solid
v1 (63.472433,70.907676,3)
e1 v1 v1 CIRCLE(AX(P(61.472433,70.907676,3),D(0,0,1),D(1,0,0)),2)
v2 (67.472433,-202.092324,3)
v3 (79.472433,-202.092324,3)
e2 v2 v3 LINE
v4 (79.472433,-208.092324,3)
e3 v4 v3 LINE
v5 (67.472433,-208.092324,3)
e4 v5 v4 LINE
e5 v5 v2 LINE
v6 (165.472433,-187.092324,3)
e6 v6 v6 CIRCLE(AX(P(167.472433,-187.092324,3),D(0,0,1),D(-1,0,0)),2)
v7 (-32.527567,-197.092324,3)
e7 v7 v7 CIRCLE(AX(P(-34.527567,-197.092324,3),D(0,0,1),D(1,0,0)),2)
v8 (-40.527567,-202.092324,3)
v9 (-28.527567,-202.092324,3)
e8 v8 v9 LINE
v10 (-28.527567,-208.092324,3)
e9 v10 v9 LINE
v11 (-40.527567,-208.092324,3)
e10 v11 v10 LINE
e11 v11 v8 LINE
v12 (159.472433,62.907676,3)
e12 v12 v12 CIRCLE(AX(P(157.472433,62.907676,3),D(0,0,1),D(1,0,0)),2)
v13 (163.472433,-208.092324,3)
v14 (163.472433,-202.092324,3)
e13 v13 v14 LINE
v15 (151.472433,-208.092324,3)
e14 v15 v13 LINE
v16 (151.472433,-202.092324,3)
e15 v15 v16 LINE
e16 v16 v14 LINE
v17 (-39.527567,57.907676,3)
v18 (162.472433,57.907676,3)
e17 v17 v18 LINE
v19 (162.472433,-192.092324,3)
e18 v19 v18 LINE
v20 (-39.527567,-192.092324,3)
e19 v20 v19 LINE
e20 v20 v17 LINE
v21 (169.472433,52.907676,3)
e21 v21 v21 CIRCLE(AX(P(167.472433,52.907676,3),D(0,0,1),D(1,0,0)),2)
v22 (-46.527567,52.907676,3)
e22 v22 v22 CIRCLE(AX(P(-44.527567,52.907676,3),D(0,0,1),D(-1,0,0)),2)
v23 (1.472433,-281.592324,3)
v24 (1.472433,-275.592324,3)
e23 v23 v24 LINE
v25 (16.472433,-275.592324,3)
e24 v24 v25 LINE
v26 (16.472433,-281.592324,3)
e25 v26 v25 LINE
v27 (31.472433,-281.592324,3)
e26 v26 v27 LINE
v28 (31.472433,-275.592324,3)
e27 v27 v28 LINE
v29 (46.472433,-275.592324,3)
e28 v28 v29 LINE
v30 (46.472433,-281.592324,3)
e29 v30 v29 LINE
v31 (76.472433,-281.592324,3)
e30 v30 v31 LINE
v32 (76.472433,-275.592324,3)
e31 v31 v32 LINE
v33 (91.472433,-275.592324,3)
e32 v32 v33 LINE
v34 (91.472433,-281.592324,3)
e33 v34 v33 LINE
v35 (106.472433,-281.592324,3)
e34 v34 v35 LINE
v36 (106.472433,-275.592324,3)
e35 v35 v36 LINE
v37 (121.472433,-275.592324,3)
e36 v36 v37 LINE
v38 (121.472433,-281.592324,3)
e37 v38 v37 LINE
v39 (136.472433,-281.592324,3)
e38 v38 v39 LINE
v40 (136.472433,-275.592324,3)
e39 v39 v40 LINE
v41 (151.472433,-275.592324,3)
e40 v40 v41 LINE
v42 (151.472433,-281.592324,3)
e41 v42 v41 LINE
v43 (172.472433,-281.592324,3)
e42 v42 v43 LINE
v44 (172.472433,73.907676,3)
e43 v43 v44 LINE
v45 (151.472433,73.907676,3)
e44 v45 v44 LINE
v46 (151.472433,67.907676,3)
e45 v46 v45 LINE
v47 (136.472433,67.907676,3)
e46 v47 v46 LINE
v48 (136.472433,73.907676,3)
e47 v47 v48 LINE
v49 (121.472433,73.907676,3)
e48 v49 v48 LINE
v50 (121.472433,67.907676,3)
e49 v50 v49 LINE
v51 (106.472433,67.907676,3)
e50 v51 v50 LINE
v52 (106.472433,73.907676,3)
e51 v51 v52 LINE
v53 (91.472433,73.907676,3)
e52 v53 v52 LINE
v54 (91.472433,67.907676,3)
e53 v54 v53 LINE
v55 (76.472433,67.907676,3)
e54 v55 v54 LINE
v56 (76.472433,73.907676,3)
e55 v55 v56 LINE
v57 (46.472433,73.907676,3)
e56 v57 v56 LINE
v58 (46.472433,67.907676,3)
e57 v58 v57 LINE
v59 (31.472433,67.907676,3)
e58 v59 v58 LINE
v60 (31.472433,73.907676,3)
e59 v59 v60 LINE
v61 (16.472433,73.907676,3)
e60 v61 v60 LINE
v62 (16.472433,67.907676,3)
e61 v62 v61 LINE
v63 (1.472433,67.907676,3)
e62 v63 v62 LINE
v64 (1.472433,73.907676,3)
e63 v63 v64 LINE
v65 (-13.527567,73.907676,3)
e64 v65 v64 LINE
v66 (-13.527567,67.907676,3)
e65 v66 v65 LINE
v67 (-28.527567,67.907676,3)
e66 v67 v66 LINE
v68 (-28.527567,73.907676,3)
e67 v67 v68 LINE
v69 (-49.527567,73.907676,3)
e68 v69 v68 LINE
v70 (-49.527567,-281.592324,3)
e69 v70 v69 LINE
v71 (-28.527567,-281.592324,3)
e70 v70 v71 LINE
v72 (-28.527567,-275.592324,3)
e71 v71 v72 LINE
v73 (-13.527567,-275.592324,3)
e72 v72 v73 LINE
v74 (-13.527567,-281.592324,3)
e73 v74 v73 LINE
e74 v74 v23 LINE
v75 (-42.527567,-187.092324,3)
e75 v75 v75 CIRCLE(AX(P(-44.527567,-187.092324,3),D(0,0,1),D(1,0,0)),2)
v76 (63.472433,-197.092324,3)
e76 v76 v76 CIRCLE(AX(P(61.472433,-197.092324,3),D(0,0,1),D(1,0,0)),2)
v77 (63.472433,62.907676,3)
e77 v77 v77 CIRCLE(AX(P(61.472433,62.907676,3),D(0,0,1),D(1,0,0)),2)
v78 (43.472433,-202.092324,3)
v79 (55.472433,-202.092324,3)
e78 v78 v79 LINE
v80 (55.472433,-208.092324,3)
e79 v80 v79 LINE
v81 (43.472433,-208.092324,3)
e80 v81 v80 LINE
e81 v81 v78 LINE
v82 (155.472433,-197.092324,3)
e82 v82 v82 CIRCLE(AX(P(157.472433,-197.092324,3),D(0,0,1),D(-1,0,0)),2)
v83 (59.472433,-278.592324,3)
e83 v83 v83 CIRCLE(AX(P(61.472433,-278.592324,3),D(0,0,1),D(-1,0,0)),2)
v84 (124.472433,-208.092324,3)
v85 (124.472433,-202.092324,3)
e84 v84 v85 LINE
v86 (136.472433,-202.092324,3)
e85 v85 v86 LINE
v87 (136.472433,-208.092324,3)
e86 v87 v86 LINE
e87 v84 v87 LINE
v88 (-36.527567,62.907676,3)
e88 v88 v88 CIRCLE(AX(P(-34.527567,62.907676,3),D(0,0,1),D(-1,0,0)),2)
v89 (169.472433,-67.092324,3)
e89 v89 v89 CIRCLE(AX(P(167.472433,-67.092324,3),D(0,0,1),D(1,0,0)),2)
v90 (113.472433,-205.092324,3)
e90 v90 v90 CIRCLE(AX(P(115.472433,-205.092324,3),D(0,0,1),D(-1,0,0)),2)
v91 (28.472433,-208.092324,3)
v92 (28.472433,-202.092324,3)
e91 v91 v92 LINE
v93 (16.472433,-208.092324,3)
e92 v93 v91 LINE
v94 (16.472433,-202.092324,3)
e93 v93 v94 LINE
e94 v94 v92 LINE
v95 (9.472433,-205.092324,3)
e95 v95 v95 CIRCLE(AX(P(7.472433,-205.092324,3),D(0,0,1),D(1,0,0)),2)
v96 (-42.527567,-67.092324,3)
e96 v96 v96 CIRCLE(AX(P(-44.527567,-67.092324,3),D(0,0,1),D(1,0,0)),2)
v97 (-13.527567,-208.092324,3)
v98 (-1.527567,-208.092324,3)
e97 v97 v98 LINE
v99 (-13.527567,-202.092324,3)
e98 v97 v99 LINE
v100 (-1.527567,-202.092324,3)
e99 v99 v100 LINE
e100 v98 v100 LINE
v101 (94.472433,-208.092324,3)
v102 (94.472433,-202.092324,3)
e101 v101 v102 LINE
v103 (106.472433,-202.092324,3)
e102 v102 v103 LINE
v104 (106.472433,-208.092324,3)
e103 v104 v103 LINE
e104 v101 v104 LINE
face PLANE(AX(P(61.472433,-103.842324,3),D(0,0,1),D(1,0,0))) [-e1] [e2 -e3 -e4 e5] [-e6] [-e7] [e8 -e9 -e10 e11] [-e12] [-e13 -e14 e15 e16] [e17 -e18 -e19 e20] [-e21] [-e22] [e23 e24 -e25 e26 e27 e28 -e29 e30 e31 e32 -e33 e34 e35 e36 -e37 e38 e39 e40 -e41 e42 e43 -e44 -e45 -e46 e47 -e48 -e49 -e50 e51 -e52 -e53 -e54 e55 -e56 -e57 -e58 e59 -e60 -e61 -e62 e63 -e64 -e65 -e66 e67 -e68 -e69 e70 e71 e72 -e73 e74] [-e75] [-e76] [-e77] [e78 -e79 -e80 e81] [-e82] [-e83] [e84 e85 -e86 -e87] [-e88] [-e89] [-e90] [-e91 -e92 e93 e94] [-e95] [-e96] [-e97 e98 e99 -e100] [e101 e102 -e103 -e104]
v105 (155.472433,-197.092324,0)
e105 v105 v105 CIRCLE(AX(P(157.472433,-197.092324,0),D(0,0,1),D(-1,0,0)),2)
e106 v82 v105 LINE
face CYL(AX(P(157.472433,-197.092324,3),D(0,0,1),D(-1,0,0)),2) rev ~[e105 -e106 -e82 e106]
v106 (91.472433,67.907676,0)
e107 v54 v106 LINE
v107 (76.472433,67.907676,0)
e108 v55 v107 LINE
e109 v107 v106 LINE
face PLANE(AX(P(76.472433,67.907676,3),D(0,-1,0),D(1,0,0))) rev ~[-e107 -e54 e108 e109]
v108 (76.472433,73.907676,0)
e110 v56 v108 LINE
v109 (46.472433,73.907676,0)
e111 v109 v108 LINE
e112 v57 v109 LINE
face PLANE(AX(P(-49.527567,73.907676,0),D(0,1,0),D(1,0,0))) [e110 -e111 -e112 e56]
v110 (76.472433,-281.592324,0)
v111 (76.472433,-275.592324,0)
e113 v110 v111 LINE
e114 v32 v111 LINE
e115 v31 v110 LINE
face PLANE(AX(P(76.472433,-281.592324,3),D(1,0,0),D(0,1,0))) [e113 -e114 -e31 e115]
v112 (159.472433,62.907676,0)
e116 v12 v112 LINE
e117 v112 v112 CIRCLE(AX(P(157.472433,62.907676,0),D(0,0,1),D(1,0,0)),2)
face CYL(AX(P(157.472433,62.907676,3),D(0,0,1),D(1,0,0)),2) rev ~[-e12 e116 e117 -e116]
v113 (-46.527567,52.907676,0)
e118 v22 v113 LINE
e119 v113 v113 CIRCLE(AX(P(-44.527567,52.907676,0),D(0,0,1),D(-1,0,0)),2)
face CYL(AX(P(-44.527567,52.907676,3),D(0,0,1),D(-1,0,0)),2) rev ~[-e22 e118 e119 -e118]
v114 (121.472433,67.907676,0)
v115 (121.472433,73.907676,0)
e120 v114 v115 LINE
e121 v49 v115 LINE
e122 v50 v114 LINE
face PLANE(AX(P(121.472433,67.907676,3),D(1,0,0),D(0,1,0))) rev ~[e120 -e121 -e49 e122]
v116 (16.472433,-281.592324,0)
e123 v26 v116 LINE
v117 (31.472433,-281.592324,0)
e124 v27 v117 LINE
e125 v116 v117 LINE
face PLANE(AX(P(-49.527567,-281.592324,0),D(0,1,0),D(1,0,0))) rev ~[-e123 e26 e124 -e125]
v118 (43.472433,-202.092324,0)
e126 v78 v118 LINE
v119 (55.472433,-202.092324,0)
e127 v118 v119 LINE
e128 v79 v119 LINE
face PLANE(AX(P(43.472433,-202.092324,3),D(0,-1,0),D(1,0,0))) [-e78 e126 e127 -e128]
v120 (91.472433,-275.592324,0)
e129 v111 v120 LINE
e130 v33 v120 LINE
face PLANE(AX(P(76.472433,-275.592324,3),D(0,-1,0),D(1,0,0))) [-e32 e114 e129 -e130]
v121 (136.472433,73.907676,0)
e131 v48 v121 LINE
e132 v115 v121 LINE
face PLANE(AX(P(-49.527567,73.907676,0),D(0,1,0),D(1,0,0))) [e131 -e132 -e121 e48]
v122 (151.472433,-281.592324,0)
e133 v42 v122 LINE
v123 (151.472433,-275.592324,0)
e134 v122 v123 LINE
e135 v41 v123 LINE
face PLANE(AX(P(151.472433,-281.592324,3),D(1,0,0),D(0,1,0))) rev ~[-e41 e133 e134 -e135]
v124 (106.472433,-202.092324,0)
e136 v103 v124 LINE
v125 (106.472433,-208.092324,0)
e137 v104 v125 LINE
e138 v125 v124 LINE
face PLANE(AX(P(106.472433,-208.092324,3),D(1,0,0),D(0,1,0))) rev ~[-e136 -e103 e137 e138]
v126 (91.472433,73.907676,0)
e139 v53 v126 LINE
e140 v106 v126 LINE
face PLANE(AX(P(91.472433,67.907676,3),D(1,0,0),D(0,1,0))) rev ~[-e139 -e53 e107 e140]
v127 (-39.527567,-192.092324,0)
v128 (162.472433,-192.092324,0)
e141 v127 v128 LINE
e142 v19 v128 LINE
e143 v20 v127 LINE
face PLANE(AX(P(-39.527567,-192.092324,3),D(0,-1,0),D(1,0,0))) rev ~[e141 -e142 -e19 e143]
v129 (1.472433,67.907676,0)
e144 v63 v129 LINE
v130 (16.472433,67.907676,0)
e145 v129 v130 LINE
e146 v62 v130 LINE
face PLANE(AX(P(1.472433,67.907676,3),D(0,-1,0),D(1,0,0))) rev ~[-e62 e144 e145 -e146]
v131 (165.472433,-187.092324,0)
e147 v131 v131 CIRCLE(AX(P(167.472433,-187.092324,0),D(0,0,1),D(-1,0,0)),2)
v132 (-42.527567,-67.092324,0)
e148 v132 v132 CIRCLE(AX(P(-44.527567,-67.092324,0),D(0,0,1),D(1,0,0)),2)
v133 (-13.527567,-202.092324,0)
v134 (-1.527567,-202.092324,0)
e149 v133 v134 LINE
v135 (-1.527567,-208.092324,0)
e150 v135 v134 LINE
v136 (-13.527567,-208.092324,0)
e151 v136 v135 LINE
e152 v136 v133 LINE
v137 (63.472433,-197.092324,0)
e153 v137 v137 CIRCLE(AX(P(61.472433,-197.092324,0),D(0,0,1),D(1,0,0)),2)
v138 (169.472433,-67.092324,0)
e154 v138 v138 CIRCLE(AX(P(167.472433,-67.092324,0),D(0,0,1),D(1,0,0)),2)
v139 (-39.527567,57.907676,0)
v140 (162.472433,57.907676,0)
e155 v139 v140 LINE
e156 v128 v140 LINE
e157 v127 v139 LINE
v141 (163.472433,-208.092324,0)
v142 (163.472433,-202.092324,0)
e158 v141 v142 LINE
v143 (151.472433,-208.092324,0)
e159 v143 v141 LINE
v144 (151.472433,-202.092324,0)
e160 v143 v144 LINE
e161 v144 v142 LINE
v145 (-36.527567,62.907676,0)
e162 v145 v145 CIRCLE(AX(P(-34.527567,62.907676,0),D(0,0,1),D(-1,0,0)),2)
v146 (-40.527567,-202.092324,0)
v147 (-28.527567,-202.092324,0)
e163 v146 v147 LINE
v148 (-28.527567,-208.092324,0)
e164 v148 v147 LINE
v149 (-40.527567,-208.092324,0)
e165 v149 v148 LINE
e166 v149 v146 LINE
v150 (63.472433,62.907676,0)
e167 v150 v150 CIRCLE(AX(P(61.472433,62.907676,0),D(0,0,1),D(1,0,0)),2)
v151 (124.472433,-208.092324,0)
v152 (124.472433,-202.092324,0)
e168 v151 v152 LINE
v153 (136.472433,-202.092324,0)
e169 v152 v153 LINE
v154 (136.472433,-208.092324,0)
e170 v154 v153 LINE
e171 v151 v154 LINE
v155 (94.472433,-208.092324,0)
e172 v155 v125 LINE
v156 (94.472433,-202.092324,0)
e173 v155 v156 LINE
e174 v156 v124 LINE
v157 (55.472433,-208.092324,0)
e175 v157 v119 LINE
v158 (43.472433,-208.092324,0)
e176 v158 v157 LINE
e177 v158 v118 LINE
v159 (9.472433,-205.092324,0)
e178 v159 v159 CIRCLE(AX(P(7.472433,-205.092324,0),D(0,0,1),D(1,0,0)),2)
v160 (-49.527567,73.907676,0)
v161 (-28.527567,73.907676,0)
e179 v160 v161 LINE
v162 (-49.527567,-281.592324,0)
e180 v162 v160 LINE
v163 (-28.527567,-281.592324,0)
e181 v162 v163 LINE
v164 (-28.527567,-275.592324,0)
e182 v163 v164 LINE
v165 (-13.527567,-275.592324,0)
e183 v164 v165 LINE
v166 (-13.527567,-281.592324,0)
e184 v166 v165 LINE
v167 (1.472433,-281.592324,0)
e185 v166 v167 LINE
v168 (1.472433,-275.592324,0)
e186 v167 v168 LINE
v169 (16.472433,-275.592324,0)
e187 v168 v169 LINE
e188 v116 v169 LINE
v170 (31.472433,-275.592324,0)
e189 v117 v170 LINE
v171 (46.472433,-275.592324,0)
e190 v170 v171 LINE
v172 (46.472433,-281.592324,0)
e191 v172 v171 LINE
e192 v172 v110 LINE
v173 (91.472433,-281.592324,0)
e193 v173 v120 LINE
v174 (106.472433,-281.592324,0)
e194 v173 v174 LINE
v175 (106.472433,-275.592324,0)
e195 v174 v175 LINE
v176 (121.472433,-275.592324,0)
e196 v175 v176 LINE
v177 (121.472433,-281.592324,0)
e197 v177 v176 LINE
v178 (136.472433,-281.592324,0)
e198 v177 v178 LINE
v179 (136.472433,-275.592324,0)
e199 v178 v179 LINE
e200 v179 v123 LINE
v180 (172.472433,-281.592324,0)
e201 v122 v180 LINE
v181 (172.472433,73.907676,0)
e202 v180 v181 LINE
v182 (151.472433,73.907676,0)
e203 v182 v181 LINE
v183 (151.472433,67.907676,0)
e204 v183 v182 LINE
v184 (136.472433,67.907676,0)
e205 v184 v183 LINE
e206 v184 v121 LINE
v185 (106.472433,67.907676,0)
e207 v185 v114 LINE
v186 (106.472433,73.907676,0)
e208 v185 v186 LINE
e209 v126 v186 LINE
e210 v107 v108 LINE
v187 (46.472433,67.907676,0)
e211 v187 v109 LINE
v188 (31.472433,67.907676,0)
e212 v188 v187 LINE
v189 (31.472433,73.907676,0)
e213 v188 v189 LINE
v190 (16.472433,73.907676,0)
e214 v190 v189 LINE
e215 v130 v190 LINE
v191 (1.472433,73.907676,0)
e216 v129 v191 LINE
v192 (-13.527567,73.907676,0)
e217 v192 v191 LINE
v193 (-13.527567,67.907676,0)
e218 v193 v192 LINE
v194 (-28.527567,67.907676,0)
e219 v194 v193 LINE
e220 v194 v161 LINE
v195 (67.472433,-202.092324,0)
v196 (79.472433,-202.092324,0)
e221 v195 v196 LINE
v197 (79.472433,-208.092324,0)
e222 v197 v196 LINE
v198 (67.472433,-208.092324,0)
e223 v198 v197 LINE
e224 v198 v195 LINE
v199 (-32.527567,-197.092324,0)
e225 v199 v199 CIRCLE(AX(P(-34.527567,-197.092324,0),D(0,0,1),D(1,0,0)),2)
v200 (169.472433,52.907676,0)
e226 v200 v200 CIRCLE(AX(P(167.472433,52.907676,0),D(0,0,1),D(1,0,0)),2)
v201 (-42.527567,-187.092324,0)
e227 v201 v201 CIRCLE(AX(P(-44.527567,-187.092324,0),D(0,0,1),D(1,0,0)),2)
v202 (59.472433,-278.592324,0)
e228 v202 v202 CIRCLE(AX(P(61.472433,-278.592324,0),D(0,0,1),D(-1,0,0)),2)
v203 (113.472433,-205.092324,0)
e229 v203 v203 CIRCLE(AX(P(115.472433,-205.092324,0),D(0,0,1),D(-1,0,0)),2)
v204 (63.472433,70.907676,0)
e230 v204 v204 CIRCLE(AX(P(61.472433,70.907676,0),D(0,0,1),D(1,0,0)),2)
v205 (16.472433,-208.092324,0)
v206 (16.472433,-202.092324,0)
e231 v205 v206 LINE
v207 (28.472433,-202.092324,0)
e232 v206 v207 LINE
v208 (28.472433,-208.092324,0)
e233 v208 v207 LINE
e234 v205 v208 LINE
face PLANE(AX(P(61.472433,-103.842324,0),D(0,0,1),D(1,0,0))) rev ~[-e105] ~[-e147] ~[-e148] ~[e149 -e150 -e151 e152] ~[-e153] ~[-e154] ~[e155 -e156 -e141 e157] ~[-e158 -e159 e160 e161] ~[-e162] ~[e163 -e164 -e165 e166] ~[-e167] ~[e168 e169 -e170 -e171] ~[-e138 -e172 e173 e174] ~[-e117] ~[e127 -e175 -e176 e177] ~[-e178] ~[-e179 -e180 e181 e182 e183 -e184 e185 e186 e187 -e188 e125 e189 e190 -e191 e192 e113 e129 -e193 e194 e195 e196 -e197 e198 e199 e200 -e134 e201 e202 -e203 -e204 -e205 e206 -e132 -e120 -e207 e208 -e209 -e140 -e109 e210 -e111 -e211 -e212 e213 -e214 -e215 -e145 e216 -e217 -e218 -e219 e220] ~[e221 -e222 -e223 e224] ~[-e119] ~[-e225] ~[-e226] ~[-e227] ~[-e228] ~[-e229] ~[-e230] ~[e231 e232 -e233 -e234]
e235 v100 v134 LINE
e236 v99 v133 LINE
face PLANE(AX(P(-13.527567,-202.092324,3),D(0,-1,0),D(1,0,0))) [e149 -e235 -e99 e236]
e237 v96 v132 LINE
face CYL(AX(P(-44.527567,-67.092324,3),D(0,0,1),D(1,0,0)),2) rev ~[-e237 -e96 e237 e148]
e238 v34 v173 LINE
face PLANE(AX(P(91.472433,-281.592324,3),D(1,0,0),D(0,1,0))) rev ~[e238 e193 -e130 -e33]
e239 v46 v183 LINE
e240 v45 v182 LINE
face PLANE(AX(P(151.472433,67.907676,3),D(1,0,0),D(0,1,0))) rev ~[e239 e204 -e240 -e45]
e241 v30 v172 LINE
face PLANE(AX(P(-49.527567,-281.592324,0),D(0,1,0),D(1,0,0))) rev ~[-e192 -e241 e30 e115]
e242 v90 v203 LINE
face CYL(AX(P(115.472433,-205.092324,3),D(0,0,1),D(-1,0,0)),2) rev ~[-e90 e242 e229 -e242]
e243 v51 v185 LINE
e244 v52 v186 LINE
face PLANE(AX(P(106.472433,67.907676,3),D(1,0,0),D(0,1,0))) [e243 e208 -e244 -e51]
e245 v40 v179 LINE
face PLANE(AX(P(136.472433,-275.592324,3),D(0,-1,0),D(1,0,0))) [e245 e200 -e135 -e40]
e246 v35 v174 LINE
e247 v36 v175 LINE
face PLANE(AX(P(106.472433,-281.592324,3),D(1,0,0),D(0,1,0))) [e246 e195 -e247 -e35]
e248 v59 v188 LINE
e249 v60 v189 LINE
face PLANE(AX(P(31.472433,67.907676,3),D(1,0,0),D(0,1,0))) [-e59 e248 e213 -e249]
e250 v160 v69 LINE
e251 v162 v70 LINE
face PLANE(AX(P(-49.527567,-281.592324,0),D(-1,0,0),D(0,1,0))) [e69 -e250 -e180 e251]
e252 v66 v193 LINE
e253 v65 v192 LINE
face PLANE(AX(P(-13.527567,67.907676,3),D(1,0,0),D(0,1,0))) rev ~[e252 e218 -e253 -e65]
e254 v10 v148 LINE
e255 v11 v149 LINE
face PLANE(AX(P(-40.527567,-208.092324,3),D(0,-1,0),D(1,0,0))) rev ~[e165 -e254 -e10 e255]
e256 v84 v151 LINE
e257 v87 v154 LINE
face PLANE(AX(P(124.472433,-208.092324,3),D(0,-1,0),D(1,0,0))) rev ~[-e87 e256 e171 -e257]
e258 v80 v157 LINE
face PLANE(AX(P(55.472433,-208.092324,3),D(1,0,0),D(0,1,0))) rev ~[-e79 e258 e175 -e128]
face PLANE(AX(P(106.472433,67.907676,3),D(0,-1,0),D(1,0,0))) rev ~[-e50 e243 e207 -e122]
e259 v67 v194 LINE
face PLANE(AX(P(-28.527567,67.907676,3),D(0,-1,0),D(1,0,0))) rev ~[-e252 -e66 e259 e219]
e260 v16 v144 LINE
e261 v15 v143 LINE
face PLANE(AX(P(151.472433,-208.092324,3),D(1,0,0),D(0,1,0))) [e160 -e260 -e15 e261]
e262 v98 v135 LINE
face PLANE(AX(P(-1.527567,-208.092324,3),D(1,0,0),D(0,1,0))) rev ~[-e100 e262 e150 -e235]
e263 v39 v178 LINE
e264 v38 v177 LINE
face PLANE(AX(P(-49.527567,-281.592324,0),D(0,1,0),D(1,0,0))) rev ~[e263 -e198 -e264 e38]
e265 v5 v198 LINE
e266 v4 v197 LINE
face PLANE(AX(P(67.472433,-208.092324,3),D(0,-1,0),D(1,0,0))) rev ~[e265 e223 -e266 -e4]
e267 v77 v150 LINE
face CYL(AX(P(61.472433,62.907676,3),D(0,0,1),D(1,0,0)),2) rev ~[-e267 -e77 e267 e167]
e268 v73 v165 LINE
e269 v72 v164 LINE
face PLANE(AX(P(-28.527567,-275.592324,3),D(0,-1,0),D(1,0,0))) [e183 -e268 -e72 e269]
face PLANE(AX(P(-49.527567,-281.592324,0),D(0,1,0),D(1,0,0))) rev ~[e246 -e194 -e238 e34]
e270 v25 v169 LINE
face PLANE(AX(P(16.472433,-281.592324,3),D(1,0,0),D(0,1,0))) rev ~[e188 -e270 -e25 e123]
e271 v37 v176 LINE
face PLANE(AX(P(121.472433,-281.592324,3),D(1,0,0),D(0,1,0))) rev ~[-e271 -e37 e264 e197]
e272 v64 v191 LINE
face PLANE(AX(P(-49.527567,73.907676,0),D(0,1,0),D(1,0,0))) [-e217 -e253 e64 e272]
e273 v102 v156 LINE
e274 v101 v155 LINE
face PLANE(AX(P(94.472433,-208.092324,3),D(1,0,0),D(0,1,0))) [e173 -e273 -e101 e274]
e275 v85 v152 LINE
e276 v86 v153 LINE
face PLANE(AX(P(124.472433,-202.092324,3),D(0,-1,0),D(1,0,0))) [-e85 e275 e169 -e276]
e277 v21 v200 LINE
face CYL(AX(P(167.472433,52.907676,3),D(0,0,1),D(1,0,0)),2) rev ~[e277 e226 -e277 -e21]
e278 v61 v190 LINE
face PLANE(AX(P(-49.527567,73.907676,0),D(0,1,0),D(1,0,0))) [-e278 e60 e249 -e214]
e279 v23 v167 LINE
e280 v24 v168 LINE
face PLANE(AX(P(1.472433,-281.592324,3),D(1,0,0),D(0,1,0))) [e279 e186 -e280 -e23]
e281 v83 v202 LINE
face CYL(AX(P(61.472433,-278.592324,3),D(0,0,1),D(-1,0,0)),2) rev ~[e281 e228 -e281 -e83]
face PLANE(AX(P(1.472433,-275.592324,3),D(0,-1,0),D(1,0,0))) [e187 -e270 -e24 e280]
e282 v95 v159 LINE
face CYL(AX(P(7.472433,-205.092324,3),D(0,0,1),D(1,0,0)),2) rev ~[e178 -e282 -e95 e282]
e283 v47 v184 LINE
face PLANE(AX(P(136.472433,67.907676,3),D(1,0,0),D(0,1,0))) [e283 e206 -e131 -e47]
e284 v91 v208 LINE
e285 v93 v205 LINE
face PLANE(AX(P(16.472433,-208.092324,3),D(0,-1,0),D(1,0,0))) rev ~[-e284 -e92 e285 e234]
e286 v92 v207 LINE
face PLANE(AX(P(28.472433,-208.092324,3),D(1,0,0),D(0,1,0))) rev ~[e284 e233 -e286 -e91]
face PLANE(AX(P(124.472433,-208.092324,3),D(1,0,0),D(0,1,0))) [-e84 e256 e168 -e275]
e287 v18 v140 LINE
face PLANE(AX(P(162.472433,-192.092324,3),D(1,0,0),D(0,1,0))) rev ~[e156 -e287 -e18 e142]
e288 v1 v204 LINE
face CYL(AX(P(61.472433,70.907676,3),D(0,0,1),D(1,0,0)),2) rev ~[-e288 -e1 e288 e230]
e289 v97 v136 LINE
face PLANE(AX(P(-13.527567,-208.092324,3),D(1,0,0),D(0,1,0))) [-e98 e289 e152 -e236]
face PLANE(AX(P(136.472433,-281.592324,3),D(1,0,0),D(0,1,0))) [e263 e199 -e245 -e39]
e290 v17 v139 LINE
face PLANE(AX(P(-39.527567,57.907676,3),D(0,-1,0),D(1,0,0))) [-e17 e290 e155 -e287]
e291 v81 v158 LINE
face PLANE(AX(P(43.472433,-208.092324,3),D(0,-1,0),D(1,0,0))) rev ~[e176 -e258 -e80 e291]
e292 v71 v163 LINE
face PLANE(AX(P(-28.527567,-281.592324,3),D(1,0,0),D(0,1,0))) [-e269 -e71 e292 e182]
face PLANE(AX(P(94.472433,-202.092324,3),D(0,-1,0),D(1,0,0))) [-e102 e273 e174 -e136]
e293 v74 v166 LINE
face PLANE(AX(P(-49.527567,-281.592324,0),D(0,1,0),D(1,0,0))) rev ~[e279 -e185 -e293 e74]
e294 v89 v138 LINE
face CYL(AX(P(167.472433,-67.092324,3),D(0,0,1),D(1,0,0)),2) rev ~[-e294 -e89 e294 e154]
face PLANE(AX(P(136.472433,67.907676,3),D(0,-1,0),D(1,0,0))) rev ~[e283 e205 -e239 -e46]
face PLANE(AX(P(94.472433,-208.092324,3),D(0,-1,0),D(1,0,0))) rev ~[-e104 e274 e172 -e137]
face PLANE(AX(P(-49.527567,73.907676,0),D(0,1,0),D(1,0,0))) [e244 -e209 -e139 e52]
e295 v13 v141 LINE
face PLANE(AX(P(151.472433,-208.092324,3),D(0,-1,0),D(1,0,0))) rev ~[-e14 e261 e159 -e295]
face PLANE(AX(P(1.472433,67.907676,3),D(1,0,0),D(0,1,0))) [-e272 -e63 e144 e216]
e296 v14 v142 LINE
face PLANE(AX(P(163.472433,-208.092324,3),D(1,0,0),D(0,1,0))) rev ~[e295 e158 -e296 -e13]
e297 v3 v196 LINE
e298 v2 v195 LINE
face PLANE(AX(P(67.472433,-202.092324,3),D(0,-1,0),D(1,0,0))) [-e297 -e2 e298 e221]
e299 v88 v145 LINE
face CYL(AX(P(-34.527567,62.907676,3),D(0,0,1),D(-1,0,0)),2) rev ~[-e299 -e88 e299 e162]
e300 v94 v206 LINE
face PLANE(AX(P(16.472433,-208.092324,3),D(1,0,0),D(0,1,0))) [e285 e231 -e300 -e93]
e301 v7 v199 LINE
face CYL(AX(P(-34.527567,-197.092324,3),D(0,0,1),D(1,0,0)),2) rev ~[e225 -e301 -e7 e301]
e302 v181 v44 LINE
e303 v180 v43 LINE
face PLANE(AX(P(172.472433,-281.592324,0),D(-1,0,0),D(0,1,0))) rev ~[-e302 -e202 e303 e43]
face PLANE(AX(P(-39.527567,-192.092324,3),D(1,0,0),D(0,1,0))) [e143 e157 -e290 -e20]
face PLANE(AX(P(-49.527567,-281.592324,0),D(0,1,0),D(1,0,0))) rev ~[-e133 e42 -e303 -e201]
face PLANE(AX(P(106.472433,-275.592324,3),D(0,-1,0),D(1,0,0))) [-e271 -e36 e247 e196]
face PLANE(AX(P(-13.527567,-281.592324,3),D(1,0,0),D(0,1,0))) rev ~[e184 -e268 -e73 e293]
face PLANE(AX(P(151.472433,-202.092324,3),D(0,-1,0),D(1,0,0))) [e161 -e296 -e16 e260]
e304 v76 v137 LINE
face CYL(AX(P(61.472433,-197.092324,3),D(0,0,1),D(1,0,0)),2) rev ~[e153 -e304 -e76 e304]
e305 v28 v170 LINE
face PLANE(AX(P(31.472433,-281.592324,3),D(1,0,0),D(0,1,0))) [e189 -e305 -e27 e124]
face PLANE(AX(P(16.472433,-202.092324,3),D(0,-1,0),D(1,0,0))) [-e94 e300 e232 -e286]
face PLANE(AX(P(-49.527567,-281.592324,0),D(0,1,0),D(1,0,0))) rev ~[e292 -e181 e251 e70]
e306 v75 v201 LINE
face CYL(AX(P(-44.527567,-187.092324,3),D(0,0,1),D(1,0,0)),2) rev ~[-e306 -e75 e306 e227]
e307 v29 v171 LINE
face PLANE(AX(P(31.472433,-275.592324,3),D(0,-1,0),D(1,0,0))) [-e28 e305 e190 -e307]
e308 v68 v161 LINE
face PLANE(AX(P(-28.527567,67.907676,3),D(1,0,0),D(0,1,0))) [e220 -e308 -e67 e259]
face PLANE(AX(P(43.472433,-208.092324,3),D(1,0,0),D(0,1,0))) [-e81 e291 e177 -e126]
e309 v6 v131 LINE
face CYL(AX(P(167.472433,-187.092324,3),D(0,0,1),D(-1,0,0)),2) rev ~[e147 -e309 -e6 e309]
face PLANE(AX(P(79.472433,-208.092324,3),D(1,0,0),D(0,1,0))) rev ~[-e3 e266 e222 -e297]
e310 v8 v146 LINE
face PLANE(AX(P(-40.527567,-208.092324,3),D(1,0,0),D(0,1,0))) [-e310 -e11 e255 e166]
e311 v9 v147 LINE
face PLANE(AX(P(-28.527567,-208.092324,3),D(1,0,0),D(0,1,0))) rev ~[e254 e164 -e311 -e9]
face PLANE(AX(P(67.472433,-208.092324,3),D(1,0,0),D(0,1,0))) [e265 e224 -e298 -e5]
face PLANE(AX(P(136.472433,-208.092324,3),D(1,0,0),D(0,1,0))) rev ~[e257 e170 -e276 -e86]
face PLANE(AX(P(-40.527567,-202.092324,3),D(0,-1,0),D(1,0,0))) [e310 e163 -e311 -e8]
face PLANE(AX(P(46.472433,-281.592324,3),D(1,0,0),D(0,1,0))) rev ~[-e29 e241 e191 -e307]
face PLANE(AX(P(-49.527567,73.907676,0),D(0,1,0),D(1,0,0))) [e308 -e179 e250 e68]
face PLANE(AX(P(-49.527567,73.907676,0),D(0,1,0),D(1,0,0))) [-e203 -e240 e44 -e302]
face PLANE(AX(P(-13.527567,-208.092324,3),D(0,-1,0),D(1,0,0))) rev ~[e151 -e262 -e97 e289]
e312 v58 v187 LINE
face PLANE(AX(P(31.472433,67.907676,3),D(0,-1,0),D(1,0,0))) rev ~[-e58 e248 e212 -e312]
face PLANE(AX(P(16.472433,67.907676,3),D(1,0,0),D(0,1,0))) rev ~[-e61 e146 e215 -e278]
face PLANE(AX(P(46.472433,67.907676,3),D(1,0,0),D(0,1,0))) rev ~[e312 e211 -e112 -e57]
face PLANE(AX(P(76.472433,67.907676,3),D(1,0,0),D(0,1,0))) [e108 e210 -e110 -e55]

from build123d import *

# Parameters (mm, degrees)
ESQUISSE1_W             = 222
ESQUISSE1_H             = 355.5
BOSS_EXTRU_1_DEPTH      = 3
ESQUISSE2_R             = 2
ESQUISSE2_W             = 15
ESQUISSE2_H             = 6
ENL_V_MAT_EXTRU_1_DEPTH = 3
ESQUISSE3_R             = 2
ESQUISSE3_W             = 12
ESQUISSE3_H             = 6
ENL_V_MAT_EXTRU_2_DEPTH = 3
ESQUISSE4_R             = 2
ESQUISSE4_W             = 202
ESQUISSE4_H             = 250
ENL_V_MAT_EXTRU_3_DEPTH = 3


with BuildPart() as part:
    # Esquisse1 → Boss.-Extru.1 (new body)
    with BuildSketch(Plane.XY):
        with Locations((61.472433281, -103.842323651)):
            Rectangle(ESQUISSE1_W, ESQUISSE1_H)
    extrude(amount=BOSS_EXTRU_1_DEPTH)

    # Esquisse2 → Enlèv. mat.-Extru.1 (cut)
    with BuildSketch(Plane.XY.offset(3)):
        with Locations((61.472433281, 70.907676349)):
            Circle(ESQUISSE2_R)
        with Locations(Location((61.472433281, -278.592323651, 0), (0, 0, 180))):
            Circle(ESQUISSE2_R)
        with Locations((8.972433281, 70.907676349)):
            Rectangle(ESQUISSE2_W, ESQUISSE2_H)
        with Locations((83.972433281, 70.907676349)):
            Rectangle(ESQUISSE2_W, ESQUISSE2_H)
        with Locations((143.972433281, 70.907676349)):
            Rectangle(ESQUISSE2_W, ESQUISSE2_H)
        with Locations((113.972433281, 70.907676349)):
            Rectangle(ESQUISSE2_W, ESQUISSE2_H)
        with Locations((-21.027566719, 70.907676349)):
            Rectangle(ESQUISSE2_W, ESQUISSE2_H)
        with Locations((38.972433281, 70.907676349)):
            Rectangle(ESQUISSE2_W, ESQUISSE2_H)
        with Locations((38.972433281, -278.592323651)):
            Rectangle(ESQUISSE2_W, ESQUISSE2_H)
        with Locations((-21.027566719, -278.592323651)):
            Rectangle(ESQUISSE2_W, ESQUISSE2_H)
        with Locations((8.972433281, -278.592323651)):
            Rectangle(ESQUISSE2_W, ESQUISSE2_H)
        with Locations((113.972433281, -278.592323651)):
            Rectangle(ESQUISSE2_W, ESQUISSE2_H)
        with Locations((143.972433281, -278.592323651)):
            Rectangle(ESQUISSE2_W, ESQUISSE2_H)
        with Locations((83.972433281, -278.592323651)):
            Rectangle(ESQUISSE2_W, ESQUISSE2_H)
    extrude(amount=-ENL_V_MAT_EXTRU_1_DEPTH, mode=Mode.SUBTRACT)

    # Esquisse3 → Enlèv. mat.-Extru.2 (cut)
    with BuildSketch(Plane.XY.offset(3)):
        with Locations((7.472433281, -205.092323651)):
            Circle(ESQUISSE3_R)
        with Locations(Location((115.472433281, -205.092323651, 0), (0, 0, 180))):
            Circle(ESQUISSE3_R)
        with Locations((49.472433281, -205.092323651)):
            Rectangle(ESQUISSE3_W, ESQUISSE3_H)
        with Locations((22.472433281, -205.092323651)):
            Rectangle(ESQUISSE3_W, ESQUISSE3_H)
        with Locations((-7.527566719, -205.092323651)):
            Rectangle(ESQUISSE3_W, ESQUISSE3_H)
        with Locations((-34.527566719, -205.092323651)):
            Rectangle(ESQUISSE3_W, ESQUISSE3_H)
        with Locations((157.472433281, -205.092323651)):
            Rectangle(ESQUISSE3_W, ESQUISSE3_H)
        with Locations((130.472433281, -205.092323651)):
            Rectangle(ESQUISSE3_W, ESQUISSE3_H)
        with Locations((100.472433281, -205.092323651)):
            Rectangle(ESQUISSE3_W, ESQUISSE3_H)
        with Locations((73.472433281, -205.092323651)):
            Rectangle(ESQUISSE3_W, ESQUISSE3_H)
    extrude(amount=-ENL_V_MAT_EXTRU_2_DEPTH, mode=Mode.SUBTRACT)

    # Esquisse4 → Enlèv. mat.-Extru.3 (cut)
    with BuildSketch(Plane.XY.offset(3)):
        with Locations((-44.527566719, -187.092323651)):
            Circle(ESQUISSE4_R)
        with Locations((-34.527566719, -197.092323651)):
            Circle(ESQUISSE4_R)
        with Locations(Location((157.472433281, -197.092323651, 0), (0, 0, 180))):
            Circle(ESQUISSE4_R)
        with Locations(Location((167.472433281, -187.092323651, 0), (0, 0, 180))):
            Circle(ESQUISSE4_R)
        with Locations((167.472433281, 52.907676349)):
            Circle(ESQUISSE4_R)
        with Locations((157.472433281, 62.907676349)):
            Circle(ESQUISSE4_R)
        with Locations(Location((-34.527566719, 62.907676349, 0), (0, 0, 180))):
            Circle(ESQUISSE4_R)
        with Locations(Location((-44.527566719, 52.907676349, 0), (0, 0, 180))):
            Circle(ESQUISSE4_R)
        with Locations((-44.527566719, -67.092323651)):
            Circle(ESQUISSE4_R)
        with Locations((167.472433281, -67.092323651)):
            Circle(ESQUISSE4_R)
        with Locations((61.472433281, 62.907676349)):
            Circle(ESQUISSE4_R)
        with Locations((61.472433281, -197.092323651)):
            Circle(ESQUISSE4_R)
        with Locations((61.472433281, -67.092323651)):
            Rectangle(ESQUISSE4_W, ESQUISSE4_H)
    extrude(amount=-ENL_V_MAT_EXTRU_3_DEPTH, mode=Mode.SUBTRACT)


solid = part.part
